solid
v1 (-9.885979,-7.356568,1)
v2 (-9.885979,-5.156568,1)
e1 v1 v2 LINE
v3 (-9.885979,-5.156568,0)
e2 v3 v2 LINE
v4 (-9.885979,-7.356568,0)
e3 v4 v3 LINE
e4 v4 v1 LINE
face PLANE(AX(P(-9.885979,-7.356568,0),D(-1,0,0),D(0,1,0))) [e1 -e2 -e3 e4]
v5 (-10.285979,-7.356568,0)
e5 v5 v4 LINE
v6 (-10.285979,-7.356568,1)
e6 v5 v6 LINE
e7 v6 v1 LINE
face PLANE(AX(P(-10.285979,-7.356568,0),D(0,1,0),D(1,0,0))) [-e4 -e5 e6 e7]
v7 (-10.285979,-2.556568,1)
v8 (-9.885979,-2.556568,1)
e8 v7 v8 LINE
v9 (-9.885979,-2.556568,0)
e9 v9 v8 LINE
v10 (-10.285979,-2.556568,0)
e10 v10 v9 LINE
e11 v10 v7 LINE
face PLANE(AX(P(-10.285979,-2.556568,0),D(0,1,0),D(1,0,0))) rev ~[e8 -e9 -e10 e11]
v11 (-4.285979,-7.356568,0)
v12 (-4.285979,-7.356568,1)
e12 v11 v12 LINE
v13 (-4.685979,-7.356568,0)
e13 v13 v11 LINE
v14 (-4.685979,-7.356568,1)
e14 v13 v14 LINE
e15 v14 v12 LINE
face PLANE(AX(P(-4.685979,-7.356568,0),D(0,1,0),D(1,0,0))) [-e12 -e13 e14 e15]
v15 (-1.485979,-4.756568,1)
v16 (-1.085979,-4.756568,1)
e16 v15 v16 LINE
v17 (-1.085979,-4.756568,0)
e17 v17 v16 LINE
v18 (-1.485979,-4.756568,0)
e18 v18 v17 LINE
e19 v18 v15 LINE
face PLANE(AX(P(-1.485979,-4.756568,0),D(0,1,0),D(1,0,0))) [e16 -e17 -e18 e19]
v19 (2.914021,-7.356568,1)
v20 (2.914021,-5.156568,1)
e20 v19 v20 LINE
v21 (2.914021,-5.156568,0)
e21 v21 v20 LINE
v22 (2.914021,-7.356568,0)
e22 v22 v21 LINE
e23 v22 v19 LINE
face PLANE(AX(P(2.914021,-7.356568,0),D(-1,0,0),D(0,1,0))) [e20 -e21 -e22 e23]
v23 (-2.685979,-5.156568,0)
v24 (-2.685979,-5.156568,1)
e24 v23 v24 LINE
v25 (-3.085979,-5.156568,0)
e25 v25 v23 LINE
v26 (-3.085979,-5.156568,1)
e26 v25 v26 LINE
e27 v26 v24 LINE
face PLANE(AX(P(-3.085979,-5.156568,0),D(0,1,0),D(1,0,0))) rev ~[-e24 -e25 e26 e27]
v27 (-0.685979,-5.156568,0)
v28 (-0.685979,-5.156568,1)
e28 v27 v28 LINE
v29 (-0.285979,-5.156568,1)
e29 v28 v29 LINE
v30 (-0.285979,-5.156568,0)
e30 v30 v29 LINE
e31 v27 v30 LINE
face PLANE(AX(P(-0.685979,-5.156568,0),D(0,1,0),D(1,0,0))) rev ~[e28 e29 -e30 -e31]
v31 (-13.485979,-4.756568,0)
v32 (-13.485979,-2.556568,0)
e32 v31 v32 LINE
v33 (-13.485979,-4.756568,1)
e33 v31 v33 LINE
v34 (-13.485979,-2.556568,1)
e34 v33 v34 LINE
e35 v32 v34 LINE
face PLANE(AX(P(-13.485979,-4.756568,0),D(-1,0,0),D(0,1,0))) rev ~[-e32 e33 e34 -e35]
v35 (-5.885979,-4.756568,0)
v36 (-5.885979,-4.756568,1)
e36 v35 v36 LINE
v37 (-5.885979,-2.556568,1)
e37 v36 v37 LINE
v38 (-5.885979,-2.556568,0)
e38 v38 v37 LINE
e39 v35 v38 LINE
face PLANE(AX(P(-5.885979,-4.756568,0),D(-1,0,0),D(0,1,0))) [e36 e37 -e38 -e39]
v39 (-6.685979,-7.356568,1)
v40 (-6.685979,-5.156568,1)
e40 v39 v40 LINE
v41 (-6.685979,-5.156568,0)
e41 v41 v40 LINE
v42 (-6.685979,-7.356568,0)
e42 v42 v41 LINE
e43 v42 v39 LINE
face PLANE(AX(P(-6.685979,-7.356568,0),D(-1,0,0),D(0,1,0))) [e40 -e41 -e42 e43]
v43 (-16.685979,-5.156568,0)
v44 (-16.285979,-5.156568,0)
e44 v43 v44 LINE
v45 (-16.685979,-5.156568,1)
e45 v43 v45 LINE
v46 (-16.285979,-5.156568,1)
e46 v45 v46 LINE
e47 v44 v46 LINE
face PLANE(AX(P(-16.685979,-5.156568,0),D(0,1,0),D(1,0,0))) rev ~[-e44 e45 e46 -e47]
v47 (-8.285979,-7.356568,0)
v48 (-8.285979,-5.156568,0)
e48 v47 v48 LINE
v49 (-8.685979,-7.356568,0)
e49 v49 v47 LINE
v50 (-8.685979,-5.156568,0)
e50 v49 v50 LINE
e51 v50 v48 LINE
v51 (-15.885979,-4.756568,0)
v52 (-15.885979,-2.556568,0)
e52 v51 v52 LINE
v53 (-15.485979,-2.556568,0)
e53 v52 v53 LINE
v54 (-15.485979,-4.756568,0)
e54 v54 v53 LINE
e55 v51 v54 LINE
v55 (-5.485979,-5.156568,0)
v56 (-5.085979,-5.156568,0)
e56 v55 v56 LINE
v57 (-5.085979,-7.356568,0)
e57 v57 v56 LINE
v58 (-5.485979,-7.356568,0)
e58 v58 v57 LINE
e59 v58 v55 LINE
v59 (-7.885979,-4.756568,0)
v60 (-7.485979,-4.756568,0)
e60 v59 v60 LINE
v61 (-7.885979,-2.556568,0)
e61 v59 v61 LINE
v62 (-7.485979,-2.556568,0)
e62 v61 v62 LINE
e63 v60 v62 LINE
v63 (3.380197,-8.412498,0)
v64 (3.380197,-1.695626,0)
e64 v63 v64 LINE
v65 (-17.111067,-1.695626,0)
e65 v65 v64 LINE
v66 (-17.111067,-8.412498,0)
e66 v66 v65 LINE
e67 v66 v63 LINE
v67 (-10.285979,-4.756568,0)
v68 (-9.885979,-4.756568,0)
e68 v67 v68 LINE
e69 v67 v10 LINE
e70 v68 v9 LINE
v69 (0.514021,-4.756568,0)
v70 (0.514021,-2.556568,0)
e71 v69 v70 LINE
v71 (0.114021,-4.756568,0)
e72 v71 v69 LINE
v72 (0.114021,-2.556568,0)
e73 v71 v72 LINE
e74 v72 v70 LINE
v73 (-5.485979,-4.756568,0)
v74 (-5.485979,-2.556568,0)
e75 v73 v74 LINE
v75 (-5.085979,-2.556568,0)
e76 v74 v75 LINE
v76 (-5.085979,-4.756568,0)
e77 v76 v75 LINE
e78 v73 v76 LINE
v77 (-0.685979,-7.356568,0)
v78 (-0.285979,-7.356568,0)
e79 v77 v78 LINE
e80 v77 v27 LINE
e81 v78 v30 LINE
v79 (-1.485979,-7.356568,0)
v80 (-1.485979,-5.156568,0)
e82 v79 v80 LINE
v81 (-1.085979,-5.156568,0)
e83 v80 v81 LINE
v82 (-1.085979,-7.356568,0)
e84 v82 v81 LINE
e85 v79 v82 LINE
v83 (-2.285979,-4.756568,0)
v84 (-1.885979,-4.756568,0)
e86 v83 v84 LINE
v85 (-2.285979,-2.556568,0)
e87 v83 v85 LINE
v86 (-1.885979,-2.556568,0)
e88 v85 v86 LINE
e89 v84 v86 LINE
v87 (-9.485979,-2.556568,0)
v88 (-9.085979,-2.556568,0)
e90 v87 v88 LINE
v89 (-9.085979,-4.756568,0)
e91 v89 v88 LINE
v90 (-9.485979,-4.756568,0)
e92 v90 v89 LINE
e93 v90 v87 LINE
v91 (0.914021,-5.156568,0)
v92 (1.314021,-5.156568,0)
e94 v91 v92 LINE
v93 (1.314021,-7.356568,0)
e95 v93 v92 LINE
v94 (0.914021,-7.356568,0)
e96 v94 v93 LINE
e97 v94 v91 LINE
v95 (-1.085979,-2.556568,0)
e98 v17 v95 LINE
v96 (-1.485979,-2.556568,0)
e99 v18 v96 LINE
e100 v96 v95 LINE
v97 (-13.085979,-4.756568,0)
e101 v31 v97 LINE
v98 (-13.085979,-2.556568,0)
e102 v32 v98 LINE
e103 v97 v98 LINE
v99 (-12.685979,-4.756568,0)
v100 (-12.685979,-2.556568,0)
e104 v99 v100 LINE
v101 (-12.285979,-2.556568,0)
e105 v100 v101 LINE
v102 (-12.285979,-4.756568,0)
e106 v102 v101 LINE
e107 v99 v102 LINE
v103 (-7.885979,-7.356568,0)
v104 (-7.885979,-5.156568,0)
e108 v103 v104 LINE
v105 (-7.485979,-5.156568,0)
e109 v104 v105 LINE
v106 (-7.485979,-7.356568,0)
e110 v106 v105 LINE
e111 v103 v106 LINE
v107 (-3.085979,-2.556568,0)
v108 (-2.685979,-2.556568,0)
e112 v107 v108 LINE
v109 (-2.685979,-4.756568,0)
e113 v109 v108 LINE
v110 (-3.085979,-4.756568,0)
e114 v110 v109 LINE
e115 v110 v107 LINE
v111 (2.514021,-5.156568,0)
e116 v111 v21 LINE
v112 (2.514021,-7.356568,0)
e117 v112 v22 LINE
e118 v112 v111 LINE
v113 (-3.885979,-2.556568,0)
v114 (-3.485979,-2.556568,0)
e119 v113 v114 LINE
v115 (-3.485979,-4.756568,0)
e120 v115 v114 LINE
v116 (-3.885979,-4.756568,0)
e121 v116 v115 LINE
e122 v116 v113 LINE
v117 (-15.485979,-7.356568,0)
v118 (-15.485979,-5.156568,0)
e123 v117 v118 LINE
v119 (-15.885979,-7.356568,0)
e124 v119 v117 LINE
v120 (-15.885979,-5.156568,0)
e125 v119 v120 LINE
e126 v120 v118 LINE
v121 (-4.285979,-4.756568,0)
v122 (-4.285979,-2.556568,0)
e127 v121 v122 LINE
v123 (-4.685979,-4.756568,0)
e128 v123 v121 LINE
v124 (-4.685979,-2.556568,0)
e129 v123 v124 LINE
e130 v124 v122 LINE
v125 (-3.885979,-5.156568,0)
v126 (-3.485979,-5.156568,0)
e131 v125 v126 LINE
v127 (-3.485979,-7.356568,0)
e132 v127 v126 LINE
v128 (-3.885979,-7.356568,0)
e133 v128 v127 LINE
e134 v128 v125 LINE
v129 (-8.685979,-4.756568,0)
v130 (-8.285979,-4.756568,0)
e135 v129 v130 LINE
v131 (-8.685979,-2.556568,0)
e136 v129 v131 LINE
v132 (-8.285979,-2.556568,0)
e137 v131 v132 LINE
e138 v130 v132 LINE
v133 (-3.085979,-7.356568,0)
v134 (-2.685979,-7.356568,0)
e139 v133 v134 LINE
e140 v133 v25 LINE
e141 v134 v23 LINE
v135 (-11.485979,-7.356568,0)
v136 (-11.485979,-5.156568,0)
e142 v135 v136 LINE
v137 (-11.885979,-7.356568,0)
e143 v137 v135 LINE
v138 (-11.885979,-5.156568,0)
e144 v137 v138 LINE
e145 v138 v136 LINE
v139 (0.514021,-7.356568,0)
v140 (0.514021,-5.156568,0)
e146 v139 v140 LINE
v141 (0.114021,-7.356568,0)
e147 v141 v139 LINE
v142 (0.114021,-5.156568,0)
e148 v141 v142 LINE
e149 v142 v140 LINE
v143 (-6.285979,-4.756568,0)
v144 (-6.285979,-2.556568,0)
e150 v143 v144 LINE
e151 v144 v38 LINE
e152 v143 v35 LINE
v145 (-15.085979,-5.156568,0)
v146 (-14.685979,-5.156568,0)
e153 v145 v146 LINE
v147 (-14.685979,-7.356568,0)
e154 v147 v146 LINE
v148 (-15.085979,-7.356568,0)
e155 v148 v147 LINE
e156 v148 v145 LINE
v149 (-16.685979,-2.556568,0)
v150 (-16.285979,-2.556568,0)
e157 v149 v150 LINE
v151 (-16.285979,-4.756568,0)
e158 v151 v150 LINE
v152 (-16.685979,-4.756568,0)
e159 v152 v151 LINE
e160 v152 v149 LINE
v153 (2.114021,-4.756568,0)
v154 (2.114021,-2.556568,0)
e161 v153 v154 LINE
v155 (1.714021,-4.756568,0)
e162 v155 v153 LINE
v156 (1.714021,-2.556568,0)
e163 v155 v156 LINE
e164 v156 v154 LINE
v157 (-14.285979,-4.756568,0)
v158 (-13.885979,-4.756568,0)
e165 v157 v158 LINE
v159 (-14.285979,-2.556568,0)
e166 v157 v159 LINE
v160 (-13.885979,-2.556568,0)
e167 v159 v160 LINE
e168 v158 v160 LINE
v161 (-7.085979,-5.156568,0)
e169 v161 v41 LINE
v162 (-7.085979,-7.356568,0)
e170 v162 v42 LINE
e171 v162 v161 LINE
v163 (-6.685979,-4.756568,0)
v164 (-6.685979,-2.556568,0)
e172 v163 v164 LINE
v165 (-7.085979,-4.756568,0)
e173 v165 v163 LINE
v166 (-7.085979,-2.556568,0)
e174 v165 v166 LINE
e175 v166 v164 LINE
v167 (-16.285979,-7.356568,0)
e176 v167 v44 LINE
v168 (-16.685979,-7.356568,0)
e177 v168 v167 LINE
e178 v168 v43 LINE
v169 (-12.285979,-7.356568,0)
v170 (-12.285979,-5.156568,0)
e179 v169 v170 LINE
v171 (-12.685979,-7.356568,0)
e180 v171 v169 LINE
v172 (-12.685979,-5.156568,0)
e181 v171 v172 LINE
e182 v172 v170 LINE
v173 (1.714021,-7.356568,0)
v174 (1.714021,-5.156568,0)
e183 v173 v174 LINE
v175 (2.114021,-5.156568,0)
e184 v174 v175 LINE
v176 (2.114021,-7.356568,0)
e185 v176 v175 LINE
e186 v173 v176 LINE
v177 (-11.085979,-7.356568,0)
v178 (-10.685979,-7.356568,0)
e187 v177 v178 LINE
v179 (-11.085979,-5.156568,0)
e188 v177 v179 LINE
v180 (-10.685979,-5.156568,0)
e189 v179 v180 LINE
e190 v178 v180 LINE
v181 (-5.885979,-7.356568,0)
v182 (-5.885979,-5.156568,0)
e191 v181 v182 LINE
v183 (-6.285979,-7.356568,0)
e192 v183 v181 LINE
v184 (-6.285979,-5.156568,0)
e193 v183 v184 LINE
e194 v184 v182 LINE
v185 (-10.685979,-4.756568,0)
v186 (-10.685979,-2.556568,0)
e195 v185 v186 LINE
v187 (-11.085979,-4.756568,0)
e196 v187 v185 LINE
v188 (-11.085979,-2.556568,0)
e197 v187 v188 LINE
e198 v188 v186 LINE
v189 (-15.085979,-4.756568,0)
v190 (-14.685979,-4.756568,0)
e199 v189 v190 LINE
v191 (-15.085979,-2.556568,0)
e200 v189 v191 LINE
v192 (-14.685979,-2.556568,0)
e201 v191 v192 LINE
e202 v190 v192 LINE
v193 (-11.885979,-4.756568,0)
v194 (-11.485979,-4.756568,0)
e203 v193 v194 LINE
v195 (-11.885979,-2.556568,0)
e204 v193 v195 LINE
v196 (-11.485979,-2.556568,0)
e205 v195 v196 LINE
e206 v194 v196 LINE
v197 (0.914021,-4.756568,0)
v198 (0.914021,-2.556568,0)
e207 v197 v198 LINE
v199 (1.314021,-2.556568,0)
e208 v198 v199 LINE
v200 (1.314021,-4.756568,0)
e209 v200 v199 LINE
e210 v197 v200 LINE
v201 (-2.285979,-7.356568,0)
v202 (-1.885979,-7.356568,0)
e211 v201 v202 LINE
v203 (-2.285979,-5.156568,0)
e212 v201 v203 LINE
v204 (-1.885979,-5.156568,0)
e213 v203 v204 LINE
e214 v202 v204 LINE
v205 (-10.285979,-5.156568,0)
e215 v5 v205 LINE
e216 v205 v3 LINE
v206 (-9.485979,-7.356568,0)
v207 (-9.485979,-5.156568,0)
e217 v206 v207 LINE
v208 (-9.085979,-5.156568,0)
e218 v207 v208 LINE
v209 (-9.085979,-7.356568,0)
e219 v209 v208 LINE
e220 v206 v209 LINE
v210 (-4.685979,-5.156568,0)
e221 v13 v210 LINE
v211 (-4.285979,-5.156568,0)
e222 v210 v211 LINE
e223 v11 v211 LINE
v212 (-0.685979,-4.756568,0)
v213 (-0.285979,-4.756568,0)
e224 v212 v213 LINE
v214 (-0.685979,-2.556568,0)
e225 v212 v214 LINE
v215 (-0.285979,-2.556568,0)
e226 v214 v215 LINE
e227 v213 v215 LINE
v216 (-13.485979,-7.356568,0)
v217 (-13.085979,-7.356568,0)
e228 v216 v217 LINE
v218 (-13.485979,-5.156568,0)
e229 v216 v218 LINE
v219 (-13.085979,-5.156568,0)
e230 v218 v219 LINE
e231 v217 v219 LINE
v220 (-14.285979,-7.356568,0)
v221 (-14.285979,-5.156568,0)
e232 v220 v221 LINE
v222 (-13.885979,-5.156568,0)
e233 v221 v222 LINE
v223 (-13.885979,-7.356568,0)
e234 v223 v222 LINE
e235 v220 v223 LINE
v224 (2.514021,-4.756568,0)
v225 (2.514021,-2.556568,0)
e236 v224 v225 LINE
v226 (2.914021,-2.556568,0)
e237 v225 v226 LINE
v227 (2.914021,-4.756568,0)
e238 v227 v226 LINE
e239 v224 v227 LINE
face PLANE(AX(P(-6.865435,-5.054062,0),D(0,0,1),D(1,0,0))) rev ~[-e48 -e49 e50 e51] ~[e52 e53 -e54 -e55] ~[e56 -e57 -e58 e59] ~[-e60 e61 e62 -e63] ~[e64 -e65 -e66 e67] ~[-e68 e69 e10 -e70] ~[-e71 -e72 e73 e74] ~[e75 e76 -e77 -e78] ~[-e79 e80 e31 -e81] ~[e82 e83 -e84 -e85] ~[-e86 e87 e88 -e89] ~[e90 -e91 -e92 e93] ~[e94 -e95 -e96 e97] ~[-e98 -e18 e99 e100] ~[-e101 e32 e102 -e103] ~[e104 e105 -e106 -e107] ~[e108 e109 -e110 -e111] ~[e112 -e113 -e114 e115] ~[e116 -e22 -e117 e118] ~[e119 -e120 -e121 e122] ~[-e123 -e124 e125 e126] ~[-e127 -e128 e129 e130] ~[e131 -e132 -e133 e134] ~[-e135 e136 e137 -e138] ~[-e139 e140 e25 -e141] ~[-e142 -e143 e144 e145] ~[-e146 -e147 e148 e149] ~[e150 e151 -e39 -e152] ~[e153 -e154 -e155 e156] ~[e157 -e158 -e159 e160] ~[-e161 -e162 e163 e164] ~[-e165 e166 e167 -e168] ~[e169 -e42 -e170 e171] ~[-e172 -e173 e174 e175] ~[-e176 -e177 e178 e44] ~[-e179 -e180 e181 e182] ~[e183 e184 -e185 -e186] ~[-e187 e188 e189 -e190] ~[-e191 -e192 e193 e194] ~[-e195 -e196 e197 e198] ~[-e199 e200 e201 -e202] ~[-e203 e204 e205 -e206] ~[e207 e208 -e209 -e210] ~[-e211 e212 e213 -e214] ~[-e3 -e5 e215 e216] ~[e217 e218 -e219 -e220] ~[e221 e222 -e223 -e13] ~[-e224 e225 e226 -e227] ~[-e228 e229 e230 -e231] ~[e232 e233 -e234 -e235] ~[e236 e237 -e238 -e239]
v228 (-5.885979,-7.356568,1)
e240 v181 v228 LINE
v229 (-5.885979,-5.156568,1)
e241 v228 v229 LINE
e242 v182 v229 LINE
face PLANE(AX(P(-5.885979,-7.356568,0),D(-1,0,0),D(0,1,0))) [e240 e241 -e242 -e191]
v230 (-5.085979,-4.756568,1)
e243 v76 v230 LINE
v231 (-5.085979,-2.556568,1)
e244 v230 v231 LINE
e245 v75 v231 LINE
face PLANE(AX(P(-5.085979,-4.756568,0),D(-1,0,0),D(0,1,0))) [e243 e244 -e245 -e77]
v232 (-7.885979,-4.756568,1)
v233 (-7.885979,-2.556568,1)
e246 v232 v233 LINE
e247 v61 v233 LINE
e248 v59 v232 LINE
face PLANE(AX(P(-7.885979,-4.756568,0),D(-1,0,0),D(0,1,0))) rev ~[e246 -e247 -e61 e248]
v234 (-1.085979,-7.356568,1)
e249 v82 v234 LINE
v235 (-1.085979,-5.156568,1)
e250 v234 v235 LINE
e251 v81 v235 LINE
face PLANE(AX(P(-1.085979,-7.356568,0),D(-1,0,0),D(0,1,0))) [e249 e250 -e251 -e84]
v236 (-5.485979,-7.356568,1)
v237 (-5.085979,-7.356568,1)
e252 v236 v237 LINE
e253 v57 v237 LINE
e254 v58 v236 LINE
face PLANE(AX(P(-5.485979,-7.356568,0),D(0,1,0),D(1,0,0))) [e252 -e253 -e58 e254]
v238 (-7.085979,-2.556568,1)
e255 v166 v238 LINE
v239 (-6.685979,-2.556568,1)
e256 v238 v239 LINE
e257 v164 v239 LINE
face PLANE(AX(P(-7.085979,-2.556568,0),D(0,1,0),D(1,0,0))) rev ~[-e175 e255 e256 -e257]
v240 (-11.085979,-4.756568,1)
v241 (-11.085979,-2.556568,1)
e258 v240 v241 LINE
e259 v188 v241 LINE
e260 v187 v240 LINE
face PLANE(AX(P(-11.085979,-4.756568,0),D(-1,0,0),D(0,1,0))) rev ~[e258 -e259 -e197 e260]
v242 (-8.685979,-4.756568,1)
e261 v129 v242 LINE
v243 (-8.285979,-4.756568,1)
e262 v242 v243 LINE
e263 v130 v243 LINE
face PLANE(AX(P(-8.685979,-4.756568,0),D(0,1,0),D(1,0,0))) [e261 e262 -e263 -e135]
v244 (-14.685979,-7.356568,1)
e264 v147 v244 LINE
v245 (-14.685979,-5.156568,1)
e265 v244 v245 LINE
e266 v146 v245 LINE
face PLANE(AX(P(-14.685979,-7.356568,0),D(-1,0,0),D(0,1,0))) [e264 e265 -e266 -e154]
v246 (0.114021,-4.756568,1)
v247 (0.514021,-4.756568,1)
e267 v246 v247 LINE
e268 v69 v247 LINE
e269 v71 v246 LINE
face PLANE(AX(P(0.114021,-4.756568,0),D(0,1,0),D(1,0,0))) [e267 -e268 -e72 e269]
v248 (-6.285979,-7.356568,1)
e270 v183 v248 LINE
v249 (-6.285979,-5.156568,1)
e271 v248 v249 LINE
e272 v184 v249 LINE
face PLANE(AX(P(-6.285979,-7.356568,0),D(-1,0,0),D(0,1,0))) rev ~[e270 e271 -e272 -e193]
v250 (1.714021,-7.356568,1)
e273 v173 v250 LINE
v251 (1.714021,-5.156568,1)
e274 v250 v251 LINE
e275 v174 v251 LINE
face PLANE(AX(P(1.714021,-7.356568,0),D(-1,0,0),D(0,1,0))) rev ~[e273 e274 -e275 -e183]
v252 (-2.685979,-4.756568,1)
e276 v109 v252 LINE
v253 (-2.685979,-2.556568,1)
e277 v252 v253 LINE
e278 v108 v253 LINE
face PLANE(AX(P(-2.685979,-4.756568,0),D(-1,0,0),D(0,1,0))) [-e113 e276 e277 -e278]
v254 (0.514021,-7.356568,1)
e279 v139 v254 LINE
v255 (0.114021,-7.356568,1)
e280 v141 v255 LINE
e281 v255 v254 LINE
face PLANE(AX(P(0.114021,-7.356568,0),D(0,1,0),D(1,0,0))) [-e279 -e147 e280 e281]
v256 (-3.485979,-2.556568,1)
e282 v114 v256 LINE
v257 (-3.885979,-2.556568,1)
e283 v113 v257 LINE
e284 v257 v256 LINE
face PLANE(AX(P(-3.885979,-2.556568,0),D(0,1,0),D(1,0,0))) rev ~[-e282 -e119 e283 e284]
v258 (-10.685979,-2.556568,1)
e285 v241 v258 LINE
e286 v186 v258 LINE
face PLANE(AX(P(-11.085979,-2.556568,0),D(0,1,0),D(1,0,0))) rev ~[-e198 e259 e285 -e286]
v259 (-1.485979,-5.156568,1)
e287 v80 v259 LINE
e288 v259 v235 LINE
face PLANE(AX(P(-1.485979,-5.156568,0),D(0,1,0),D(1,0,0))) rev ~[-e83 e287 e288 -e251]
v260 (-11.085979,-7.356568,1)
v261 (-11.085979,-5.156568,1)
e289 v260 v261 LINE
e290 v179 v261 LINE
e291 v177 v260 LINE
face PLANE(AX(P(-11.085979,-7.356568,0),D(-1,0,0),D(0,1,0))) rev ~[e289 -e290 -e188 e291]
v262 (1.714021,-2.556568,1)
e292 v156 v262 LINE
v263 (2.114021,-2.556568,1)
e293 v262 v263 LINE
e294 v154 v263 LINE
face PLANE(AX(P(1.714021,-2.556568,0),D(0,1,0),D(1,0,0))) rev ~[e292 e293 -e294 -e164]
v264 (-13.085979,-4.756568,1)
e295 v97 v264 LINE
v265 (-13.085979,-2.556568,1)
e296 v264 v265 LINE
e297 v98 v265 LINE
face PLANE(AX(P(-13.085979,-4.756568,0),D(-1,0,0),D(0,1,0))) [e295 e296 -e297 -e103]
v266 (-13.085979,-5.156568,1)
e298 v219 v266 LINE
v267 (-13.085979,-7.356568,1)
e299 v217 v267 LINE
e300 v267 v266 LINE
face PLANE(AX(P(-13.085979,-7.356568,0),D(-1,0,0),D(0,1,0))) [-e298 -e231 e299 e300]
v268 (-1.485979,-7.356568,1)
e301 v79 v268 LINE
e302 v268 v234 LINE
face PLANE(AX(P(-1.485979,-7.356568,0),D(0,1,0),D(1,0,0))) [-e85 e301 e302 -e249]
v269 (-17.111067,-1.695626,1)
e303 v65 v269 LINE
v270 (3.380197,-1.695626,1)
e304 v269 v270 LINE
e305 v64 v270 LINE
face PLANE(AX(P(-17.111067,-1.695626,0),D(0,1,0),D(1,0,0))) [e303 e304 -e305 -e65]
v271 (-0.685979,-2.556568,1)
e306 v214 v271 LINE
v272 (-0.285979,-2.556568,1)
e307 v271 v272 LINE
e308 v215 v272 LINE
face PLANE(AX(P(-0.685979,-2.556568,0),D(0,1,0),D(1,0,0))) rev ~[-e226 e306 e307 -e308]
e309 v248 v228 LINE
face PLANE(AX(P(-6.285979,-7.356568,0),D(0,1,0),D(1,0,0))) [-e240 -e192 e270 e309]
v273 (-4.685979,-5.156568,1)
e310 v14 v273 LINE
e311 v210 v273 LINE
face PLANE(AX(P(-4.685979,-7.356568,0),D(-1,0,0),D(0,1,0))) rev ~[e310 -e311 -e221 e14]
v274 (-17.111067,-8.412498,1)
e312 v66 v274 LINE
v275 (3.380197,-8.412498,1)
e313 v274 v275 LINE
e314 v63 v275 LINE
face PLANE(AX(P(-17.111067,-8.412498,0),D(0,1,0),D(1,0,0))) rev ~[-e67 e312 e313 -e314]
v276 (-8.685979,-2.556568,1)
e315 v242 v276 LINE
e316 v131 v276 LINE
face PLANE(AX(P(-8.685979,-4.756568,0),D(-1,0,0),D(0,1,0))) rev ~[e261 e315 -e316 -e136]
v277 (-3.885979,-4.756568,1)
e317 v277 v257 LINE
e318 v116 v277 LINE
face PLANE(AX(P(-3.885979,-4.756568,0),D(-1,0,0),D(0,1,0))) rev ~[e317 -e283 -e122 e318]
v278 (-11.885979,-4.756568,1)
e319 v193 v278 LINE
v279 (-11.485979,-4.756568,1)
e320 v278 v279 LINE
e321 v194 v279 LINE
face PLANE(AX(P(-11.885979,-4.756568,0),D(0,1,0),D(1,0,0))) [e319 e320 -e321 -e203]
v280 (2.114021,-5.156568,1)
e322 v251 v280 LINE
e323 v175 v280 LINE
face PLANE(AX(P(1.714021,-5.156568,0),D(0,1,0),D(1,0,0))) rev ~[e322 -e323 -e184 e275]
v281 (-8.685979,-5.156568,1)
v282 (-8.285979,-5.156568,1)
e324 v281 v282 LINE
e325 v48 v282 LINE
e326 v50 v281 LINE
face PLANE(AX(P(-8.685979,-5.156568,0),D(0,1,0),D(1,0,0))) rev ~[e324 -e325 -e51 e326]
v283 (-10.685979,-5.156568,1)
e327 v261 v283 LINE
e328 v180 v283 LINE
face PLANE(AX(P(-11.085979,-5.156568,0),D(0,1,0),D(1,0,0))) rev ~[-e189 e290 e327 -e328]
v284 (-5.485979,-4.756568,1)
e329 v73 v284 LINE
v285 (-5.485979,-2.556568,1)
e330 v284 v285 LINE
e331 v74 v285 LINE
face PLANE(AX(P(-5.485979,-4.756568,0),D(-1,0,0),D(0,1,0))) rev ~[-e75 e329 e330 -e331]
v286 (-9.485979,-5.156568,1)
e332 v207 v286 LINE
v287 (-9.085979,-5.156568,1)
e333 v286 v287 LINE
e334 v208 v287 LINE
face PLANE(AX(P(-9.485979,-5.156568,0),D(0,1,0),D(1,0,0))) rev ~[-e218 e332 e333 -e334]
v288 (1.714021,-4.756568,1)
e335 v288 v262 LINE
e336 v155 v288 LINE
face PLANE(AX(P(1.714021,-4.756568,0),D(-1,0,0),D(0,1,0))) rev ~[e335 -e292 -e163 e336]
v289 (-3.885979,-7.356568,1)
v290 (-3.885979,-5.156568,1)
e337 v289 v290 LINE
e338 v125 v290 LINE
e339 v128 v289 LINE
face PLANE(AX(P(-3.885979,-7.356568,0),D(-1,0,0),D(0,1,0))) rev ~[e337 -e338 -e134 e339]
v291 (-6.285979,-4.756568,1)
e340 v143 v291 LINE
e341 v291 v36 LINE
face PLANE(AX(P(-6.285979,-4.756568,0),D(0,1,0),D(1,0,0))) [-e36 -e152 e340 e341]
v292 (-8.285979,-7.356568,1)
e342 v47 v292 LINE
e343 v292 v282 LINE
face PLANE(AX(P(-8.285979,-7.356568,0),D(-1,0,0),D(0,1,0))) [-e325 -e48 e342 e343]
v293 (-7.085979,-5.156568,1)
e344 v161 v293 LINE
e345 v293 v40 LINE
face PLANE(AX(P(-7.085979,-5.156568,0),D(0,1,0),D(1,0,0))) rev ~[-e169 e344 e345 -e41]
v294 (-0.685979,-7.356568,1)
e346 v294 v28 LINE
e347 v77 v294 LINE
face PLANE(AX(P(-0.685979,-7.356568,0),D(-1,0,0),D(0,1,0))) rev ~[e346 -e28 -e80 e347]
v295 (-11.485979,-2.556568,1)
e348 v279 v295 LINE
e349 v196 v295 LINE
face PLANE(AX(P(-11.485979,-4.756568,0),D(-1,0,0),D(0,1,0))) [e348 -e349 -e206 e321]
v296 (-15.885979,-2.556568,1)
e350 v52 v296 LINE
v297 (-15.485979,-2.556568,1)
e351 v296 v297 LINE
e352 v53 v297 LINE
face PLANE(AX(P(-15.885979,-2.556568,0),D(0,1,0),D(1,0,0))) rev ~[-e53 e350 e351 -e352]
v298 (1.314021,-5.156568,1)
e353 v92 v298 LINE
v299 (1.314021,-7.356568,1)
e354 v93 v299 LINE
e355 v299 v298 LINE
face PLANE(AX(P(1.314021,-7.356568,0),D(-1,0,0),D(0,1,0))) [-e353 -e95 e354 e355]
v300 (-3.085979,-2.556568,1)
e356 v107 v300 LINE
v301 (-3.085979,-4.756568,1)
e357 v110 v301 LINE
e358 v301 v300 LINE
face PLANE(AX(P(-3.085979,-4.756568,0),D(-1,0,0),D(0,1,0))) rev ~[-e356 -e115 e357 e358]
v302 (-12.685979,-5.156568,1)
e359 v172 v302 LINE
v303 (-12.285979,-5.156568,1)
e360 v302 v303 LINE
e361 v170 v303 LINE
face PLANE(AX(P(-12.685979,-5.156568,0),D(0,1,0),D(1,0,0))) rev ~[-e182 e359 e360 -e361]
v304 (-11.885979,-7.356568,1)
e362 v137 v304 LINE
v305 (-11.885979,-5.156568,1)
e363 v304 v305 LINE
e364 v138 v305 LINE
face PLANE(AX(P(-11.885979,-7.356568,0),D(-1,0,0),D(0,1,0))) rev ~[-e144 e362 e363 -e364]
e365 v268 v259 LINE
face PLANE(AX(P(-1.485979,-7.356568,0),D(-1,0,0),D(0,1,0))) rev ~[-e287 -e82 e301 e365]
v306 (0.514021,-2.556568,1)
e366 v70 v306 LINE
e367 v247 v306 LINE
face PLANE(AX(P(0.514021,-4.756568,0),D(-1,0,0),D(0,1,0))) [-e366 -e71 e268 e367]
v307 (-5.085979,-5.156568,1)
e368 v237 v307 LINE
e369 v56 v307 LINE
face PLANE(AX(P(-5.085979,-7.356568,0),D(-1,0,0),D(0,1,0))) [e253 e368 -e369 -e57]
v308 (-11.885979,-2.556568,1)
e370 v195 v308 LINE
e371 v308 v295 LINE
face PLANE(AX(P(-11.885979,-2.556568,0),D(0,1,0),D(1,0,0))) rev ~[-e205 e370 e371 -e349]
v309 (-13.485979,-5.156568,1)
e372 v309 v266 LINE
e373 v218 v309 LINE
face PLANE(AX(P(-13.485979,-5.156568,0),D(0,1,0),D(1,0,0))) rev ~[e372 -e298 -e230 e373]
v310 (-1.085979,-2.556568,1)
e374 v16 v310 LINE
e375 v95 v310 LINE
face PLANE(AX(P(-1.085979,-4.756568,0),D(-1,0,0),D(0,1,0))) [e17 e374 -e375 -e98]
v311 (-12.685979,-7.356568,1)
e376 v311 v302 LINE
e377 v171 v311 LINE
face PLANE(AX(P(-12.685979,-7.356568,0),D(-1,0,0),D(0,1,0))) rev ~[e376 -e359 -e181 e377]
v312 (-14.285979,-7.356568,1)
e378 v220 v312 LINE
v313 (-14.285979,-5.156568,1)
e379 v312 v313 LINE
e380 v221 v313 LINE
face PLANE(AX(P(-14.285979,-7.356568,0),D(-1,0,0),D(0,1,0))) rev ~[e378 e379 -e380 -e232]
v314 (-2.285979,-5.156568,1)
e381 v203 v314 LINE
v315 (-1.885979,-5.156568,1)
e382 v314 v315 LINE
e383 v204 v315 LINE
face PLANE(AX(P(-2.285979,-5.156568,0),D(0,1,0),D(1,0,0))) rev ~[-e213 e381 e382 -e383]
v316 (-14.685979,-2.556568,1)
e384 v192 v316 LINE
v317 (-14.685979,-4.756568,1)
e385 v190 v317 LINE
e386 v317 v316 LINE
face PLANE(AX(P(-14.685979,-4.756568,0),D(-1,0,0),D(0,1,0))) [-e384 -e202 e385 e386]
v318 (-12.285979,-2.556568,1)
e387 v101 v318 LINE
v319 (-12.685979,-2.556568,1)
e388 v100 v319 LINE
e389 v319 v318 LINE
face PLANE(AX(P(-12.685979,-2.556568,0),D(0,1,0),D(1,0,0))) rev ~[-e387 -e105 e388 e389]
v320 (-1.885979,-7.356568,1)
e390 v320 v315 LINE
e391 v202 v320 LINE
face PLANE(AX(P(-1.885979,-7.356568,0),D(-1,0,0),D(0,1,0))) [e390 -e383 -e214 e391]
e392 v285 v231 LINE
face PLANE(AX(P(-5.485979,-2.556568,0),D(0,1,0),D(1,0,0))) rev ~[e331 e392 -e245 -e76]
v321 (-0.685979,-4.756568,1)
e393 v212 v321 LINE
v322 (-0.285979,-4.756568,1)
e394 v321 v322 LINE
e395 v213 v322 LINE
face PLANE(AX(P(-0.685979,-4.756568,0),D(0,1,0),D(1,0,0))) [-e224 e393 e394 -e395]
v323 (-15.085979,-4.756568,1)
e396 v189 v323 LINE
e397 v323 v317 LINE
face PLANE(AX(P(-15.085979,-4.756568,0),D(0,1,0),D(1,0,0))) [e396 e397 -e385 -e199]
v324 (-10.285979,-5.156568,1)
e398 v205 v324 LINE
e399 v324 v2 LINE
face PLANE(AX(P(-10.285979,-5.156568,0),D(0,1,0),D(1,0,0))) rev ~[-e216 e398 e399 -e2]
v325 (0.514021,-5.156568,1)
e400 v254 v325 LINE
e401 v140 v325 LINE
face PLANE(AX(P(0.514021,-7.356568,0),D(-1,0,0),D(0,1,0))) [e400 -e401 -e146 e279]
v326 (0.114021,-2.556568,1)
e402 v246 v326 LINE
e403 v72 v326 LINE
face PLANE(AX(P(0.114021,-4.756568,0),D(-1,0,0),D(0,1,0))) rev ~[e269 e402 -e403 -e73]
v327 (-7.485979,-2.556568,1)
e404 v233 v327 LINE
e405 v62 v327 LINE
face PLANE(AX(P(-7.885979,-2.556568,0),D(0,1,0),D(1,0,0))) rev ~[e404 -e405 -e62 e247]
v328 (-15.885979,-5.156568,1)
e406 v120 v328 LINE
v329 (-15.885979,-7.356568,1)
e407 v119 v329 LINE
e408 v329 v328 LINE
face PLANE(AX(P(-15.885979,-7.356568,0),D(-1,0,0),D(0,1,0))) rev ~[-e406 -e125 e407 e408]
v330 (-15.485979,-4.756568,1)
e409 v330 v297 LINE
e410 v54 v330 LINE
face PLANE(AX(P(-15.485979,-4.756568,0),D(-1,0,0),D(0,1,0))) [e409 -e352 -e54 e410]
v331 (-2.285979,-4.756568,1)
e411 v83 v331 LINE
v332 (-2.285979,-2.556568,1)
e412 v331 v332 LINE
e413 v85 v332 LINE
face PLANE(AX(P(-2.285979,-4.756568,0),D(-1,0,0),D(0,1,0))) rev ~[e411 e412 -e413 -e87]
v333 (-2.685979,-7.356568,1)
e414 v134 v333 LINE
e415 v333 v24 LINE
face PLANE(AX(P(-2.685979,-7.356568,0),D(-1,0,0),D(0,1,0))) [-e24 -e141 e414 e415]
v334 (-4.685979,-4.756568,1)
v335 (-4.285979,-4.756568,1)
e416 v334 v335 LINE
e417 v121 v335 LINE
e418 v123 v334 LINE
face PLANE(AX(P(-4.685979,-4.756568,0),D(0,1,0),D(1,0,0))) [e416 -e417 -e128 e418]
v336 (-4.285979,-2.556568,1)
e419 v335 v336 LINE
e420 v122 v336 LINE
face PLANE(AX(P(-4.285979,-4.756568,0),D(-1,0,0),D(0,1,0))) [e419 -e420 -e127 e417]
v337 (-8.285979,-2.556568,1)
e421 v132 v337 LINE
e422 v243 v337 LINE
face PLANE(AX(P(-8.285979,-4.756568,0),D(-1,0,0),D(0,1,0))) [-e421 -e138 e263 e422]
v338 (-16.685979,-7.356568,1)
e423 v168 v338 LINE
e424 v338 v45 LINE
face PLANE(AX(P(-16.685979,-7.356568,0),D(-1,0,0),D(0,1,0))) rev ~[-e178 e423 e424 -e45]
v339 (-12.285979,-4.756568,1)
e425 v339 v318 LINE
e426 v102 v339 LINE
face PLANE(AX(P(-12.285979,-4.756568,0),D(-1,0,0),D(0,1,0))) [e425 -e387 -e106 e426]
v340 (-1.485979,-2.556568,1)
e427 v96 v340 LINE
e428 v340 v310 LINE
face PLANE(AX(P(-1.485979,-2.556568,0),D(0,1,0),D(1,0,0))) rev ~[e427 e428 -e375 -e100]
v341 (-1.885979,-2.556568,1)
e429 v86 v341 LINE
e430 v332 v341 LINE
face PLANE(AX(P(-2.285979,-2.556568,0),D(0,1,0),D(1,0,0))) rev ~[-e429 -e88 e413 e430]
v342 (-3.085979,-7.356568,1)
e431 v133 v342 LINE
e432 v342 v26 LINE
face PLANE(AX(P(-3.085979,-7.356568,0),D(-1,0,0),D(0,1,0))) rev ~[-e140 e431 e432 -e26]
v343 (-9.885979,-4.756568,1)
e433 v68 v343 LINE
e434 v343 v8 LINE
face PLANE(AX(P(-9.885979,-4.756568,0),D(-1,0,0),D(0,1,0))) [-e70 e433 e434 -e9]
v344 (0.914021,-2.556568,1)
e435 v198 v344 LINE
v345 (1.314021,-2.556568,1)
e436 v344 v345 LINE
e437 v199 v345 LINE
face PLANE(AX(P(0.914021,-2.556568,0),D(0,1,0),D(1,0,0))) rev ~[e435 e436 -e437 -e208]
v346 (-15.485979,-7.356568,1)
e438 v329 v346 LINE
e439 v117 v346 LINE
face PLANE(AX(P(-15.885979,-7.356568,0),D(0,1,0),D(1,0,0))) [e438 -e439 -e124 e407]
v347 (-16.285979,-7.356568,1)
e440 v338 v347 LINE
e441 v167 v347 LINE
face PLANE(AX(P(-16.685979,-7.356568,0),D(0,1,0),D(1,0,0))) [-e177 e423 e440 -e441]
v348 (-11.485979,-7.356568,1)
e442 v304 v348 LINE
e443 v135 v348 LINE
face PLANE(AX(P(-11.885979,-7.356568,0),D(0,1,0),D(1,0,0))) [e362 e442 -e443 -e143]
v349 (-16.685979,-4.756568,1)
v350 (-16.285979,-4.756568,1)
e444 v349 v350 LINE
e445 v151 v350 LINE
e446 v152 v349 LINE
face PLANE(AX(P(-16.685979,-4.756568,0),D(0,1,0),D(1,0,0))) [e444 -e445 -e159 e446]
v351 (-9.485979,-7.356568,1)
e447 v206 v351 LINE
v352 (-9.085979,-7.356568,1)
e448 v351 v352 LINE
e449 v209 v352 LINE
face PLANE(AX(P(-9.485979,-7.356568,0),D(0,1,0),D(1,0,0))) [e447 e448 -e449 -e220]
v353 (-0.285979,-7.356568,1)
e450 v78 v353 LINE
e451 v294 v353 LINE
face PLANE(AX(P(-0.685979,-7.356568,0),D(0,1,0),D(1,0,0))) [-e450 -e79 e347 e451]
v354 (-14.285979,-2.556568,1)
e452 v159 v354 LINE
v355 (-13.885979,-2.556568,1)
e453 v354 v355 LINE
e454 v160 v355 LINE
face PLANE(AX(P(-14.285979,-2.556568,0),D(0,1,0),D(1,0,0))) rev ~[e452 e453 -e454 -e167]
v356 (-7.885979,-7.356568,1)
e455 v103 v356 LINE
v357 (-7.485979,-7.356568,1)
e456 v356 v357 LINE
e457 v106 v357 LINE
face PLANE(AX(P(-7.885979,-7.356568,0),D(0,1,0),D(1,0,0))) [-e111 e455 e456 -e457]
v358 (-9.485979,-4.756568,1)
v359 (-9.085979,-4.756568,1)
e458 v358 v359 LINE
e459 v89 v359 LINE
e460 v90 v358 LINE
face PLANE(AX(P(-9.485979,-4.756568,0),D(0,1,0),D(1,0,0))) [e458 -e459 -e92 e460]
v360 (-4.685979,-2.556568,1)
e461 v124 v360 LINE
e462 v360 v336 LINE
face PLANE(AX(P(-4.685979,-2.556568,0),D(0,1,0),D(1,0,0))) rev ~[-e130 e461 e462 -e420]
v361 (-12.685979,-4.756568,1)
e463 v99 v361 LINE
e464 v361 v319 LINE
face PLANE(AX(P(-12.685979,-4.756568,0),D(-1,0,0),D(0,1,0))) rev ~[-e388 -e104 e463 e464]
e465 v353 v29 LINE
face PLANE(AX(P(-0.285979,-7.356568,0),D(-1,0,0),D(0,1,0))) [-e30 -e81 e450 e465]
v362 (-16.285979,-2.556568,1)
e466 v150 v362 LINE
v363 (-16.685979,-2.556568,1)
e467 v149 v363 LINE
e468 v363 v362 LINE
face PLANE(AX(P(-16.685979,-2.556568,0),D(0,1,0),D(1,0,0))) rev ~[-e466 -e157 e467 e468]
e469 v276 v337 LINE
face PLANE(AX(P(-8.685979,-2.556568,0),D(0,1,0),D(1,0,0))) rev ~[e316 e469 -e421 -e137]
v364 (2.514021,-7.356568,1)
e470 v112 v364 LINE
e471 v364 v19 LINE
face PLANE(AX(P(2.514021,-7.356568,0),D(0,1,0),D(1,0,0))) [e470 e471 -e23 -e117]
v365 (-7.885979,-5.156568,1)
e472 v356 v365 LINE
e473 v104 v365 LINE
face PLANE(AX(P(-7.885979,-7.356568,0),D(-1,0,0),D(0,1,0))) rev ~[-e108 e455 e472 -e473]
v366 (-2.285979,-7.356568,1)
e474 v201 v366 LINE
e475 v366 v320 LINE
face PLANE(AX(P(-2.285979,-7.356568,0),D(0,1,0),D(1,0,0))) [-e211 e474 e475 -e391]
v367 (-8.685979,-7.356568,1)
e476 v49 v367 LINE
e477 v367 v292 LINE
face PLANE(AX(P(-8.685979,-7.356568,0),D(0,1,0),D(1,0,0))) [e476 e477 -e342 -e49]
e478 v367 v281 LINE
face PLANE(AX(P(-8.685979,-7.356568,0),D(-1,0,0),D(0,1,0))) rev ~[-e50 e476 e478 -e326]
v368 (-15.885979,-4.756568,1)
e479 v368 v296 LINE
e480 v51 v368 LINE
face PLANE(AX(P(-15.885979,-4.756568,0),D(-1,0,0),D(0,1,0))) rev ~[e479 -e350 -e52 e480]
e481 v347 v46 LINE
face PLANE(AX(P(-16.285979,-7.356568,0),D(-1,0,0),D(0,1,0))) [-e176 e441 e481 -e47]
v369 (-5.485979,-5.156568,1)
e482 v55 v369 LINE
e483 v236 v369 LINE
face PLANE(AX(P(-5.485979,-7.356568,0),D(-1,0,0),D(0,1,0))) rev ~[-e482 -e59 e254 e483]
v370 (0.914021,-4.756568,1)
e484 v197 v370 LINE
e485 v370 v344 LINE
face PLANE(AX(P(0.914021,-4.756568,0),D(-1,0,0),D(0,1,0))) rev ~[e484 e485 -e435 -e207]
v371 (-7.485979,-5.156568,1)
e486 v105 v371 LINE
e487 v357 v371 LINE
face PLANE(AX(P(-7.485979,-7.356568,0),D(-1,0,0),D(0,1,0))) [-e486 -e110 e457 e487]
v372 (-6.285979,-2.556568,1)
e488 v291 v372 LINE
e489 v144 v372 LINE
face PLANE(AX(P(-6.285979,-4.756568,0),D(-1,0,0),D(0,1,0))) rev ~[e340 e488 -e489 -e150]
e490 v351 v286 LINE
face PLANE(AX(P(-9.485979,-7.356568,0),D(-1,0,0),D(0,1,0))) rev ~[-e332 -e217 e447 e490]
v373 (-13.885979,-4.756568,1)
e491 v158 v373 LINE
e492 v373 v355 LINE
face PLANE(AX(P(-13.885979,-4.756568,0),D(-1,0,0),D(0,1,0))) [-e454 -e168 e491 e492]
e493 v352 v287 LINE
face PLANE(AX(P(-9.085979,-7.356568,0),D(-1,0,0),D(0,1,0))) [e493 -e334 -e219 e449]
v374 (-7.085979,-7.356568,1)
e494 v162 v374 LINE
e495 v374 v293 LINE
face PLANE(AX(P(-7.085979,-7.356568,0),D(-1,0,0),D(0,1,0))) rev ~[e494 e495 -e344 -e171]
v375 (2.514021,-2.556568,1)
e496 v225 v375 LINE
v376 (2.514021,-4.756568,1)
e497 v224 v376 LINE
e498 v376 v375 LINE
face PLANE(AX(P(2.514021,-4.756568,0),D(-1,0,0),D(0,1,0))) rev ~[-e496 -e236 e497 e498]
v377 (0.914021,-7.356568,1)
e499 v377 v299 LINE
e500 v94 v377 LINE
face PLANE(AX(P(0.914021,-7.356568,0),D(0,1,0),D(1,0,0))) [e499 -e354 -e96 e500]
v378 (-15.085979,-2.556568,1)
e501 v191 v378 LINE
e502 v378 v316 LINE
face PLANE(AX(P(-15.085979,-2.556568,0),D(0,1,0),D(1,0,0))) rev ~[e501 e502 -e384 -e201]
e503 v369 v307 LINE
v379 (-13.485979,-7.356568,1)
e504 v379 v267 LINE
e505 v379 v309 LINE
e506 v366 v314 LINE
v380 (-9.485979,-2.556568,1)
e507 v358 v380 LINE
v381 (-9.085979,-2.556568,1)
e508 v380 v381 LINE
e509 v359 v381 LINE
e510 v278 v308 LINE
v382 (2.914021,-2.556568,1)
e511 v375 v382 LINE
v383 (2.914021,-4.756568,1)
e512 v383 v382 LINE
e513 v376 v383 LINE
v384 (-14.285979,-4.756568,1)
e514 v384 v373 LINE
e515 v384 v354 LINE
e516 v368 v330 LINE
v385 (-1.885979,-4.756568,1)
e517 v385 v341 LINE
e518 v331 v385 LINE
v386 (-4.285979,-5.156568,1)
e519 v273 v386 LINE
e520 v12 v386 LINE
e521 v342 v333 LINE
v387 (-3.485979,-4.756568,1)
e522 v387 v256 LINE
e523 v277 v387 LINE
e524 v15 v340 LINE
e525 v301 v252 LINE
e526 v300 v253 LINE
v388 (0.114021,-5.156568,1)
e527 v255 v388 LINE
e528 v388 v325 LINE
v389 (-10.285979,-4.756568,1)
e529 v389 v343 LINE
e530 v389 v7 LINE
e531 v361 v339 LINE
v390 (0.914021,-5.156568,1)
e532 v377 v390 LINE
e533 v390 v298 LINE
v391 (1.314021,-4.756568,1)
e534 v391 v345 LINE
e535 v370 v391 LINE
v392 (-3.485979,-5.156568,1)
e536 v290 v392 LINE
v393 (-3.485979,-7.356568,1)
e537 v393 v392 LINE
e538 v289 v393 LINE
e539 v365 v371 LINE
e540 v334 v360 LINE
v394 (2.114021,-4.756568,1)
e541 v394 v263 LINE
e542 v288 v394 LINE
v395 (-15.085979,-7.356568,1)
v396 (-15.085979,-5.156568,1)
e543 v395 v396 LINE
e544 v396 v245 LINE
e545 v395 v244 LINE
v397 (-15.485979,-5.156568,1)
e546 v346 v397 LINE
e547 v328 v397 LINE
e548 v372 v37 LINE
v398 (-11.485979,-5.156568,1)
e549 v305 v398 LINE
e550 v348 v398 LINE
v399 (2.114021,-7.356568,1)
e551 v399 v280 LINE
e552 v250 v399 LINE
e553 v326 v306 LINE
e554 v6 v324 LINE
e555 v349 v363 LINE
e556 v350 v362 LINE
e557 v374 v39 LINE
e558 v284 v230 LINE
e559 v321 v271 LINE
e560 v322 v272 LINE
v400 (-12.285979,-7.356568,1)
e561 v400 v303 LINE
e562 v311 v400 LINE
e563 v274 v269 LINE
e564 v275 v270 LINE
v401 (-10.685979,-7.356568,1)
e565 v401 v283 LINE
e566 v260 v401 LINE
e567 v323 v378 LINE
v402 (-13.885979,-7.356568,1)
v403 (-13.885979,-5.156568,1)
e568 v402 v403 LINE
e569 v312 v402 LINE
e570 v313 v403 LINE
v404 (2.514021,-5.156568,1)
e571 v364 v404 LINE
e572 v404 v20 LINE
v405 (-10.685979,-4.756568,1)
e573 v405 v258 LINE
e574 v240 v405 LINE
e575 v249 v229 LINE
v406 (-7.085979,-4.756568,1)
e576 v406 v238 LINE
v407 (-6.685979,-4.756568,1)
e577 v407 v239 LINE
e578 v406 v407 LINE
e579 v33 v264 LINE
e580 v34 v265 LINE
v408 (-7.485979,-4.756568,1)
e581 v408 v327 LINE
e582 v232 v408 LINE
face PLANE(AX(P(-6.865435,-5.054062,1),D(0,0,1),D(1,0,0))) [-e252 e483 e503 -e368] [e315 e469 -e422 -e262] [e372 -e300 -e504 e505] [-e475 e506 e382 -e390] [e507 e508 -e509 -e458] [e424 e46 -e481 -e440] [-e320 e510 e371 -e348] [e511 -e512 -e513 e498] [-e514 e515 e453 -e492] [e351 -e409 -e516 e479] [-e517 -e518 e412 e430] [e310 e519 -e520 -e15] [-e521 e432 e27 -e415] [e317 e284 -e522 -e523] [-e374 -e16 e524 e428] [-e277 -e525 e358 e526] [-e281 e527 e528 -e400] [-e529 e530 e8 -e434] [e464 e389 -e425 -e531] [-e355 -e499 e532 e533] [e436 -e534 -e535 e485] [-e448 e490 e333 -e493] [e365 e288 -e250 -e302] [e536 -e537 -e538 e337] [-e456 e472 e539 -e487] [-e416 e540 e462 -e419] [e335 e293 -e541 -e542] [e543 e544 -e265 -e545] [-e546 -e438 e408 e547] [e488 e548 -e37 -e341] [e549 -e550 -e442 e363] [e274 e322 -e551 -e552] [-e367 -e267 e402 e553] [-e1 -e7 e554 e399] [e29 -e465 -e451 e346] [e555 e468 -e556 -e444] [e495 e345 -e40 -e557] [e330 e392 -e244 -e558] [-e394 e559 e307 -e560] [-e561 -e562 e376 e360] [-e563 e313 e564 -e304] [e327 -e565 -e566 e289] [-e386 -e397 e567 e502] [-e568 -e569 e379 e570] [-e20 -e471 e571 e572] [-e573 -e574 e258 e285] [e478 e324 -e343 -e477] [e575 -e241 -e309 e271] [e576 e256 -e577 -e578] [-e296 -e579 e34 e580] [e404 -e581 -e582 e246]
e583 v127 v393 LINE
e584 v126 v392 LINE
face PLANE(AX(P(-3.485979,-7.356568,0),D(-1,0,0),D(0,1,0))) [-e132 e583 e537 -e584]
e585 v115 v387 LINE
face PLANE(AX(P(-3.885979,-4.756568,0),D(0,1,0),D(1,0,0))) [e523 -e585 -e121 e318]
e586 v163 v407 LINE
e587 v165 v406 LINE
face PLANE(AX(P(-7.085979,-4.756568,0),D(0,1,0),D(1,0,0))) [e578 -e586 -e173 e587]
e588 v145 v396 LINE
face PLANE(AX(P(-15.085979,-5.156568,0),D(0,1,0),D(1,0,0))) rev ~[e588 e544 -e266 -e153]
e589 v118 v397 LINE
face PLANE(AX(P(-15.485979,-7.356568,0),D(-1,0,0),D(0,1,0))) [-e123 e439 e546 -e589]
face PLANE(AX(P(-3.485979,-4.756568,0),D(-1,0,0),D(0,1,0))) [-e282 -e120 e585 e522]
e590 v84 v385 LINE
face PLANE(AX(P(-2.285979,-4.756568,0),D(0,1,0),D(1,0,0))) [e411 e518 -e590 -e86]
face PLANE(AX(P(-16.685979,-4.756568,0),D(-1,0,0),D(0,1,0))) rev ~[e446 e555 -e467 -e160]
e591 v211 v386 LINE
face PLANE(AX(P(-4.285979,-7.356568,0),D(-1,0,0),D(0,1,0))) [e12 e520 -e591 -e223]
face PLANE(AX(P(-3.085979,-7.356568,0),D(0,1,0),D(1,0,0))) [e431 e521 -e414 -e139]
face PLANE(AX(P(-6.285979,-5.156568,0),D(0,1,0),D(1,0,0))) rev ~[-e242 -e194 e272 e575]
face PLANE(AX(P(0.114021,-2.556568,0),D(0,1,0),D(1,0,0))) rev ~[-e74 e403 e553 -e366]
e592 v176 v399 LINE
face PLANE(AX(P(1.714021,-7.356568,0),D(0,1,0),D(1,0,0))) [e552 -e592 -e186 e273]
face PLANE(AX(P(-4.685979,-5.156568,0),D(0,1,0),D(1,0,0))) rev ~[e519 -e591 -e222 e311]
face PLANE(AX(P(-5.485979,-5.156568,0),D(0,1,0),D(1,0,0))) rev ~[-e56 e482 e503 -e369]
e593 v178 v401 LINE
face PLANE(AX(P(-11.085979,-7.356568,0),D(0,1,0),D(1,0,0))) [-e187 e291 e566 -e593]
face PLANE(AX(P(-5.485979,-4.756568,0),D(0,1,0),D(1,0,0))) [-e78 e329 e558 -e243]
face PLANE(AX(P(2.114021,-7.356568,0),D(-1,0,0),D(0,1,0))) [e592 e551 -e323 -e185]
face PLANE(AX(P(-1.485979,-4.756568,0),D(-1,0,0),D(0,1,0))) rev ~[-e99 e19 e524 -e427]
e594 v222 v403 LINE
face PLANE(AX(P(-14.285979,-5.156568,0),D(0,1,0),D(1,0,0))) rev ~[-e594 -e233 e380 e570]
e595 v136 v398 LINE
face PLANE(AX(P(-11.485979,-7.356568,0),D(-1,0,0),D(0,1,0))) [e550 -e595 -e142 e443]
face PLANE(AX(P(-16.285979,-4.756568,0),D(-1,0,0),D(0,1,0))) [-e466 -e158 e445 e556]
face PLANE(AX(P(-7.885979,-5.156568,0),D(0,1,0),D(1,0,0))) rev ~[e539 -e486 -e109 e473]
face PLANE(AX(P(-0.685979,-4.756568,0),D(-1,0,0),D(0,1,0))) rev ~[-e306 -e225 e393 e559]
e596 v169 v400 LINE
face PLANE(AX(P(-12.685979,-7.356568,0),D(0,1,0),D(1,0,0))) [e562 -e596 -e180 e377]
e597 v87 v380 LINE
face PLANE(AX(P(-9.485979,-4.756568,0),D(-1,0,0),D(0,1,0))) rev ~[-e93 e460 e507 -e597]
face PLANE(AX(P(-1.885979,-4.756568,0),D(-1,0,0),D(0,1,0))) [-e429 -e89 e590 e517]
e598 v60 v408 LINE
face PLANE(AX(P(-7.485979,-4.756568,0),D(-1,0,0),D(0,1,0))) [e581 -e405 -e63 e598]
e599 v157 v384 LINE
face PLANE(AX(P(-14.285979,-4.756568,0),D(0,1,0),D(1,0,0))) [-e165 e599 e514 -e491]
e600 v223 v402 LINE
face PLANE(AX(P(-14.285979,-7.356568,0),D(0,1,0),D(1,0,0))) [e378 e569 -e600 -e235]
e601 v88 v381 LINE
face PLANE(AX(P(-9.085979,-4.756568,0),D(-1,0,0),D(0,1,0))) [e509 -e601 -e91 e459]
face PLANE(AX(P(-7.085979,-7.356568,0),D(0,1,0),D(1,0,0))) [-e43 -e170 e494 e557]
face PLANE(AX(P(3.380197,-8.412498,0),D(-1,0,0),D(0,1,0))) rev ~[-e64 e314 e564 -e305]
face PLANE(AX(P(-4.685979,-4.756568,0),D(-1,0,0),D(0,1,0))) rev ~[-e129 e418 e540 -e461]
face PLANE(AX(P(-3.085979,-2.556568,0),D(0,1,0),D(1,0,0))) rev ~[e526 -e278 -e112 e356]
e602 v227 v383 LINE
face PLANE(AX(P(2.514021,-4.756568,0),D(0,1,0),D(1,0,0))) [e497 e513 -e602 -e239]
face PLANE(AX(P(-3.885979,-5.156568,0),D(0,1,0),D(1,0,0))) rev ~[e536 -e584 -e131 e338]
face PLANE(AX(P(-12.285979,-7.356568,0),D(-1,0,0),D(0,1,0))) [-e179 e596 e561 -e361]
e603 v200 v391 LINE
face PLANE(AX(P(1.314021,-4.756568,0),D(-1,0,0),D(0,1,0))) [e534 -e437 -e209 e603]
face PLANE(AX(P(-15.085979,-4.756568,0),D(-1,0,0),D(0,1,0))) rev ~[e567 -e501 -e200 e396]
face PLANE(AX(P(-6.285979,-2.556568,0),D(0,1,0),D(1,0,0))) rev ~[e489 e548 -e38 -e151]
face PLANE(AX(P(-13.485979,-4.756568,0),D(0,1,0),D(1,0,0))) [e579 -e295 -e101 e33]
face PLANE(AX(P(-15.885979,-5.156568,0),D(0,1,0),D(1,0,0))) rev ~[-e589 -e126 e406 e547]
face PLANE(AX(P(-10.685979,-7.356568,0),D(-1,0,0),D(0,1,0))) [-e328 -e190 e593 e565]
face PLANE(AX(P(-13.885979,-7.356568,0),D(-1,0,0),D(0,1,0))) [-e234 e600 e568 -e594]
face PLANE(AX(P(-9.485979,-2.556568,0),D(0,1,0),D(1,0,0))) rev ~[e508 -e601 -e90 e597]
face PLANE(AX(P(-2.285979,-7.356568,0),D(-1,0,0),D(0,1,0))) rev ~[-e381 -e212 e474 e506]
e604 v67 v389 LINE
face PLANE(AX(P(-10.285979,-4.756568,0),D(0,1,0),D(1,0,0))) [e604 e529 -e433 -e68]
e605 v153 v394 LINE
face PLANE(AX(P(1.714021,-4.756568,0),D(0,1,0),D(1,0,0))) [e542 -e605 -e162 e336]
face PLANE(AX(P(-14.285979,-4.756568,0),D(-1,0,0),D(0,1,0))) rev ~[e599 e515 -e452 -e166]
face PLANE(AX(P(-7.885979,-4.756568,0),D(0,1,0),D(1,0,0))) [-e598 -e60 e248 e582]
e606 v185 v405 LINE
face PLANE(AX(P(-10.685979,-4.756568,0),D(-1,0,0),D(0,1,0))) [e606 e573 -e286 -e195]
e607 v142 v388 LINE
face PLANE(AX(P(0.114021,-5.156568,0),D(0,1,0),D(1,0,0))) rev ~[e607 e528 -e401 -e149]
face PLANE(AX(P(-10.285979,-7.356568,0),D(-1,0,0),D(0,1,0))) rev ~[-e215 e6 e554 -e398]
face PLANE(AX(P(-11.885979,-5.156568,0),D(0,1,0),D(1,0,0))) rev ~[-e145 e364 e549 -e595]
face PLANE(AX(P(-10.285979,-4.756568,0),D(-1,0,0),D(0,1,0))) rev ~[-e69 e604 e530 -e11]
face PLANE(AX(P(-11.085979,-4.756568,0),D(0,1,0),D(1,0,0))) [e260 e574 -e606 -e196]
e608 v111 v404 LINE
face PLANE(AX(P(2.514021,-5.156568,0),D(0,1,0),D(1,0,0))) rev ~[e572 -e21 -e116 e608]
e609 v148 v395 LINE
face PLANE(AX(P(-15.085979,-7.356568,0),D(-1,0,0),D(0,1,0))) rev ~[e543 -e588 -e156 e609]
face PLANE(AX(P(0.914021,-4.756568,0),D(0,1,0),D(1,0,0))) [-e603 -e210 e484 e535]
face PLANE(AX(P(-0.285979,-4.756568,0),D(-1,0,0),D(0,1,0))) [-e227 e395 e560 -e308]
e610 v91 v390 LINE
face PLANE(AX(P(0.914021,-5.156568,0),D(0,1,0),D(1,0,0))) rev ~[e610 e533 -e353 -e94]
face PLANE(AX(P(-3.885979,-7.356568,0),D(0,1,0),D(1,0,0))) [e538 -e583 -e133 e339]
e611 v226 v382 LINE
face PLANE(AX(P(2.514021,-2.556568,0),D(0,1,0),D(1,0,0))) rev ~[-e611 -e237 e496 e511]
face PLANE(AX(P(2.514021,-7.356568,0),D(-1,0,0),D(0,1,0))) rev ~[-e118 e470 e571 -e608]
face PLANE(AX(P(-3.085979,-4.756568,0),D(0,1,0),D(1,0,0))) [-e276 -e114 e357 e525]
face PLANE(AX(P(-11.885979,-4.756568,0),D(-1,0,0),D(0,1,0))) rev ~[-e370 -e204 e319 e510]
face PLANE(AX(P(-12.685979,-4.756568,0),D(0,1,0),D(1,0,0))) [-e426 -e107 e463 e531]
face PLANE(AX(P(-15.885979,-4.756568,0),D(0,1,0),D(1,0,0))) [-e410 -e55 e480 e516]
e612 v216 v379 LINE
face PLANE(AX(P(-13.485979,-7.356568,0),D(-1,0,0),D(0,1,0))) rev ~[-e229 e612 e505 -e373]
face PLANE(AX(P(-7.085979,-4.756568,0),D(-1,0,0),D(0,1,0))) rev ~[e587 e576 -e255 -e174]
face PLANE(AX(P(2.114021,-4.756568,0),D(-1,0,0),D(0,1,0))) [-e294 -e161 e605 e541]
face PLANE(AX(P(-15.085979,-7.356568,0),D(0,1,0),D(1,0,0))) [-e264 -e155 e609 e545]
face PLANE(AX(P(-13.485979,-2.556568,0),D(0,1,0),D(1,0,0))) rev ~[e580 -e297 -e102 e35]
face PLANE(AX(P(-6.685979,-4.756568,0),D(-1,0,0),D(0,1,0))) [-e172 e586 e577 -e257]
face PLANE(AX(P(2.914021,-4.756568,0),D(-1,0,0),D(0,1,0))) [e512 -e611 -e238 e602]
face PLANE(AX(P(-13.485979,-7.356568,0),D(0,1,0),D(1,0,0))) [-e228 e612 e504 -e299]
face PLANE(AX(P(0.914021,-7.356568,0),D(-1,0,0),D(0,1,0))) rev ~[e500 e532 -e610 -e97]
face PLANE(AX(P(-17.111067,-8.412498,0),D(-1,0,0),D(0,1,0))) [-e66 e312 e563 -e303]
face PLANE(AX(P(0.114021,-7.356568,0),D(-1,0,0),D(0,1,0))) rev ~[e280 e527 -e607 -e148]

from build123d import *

# Parameters (mm, degrees)
F1_W     = 20.491264
F1_H     = 6.716872
F1_W_2   = 0.4
F1_H_2   = 2.2
F2_DEPTH = 1


with BuildPart() as f2:
    # F1 (on face) → F2 (new body)
    with BuildSketch(Plane.XY):
        with Locations((-6.865435, -5.054062)):
            Rectangle(F1_W, F1_H)
        with Locations((-16.485979, -6.256568)):
            Rectangle(F1_W_2, F1_H_2, mode=Mode.SUBTRACT)
        with Locations((-15.685979, -6.256568)):
            Rectangle(F1_W_2, F1_H_2, mode=Mode.SUBTRACT)
        with Locations((-14.885979, -6.256568)):
            Rectangle(F1_W_2, F1_H_2, mode=Mode.SUBTRACT)
        with Locations((-14.085979, -6.256568)):
            Rectangle(F1_W_2, F1_H_2, mode=Mode.SUBTRACT)
        with Locations((-13.285979, -6.256568)):
            Rectangle(F1_W_2, F1_H_2, mode=Mode.SUBTRACT)
        with Locations((-12.485979, -6.256568)):
            Rectangle(F1_W_2, F1_H_2, mode=Mode.SUBTRACT)
        with Locations((-11.685979, -6.256568)):
            Rectangle(F1_W_2, F1_H_2, mode=Mode.SUBTRACT)
        with Locations((-10.885979, -6.256568)):
            Rectangle(F1_W_2, F1_H_2, mode=Mode.SUBTRACT)
        with Locations((-10.085979, -6.256568)):
            Rectangle(F1_W_2, F1_H_2, mode=Mode.SUBTRACT)
        with Locations((-9.285979, -6.256568)):
            Rectangle(F1_W_2, F1_H_2, mode=Mode.SUBTRACT)
        with Locations((-8.485979, -6.256568)):
            Rectangle(F1_W_2, F1_H_2, mode=Mode.SUBTRACT)
        with Locations((-7.685979, -6.256568)):
            Rectangle(F1_W_2, F1_H_2, mode=Mode.SUBTRACT)
        with Locations((-6.885979, -6.256568)):
            Rectangle(F1_W_2, F1_H_2, mode=Mode.SUBTRACT)
        with Locations((-16.485979, -3.656568)):
            Rectangle(F1_W_2, F1_H_2, mode=Mode.SUBTRACT)
        with Locations((-15.685979, -3.656568)):
            Rectangle(F1_W_2, F1_H_2, mode=Mode.SUBTRACT)
        with Locations((-14.885979, -3.656568)):
            Rectangle(F1_W_2, F1_H_2, mode=Mode.SUBTRACT)
        with Locations((-14.085979, -3.656568)):
            Rectangle(F1_W_2, F1_H_2, mode=Mode.SUBTRACT)
        with Locations((-13.285979, -3.656568)):
            Rectangle(F1_W_2, F1_H_2, mode=Mode.SUBTRACT)
        with Locations((-12.485979, -3.656568)):
            Rectangle(F1_W_2, F1_H_2, mode=Mode.SUBTRACT)
        with Locations((-11.685979, -3.656568)):
            Rectangle(F1_W_2, F1_H_2, mode=Mode.SUBTRACT)
        with Locations((-10.885979, -3.656568)):
            Rectangle(F1_W_2, F1_H_2, mode=Mode.SUBTRACT)
        with Locations((-10.085979, -3.656568)):
            Rectangle(F1_W_2, F1_H_2, mode=Mode.SUBTRACT)
        with Locations((-9.285979, -3.656568)):
            Rectangle(F1_W_2, F1_H_2, mode=Mode.SUBTRACT)
        with Locations((-8.485979, -3.656568)):
            Rectangle(F1_W_2, F1_H_2, mode=Mode.SUBTRACT)
        with Locations((-7.685979, -3.656568)):
            Rectangle(F1_W_2, F1_H_2, mode=Mode.SUBTRACT)
        with Locations((-6.885979, -3.656568)):
            Rectangle(F1_W_2, F1_H_2, mode=Mode.SUBTRACT)
        with Locations((-6.085979, -6.256568)):
            Rectangle(F1_W_2, F1_H_2, mode=Mode.SUBTRACT)
        with Locations((-5.285979, -6.256568)):
            Rectangle(F1_W_2, F1_H_2, mode=Mode.SUBTRACT)
        with Locations((-4.485979, -6.256568)):
            Rectangle(F1_W_2, F1_H_2, mode=Mode.SUBTRACT)
        with Locations((-3.685979, -6.256568)):
            Rectangle(F1_W_2, F1_H_2, mode=Mode.SUBTRACT)
        with Locations((-2.885979, -6.256568)):
            Rectangle(F1_W_2, F1_H_2, mode=Mode.SUBTRACT)
        with Locations((-2.085979, -6.256568)):
            Rectangle(F1_W_2, F1_H_2, mode=Mode.SUBTRACT)
        with Locations((-1.285979, -6.256568)):
            Rectangle(F1_W_2, F1_H_2, mode=Mode.SUBTRACT)
        with Locations((-0.485979, -6.256568)):
            Rectangle(F1_W_2, F1_H_2, mode=Mode.SUBTRACT)
        with Locations((0.314021, -6.256568)):
            Rectangle(F1_W_2, F1_H_2, mode=Mode.SUBTRACT)
        with Locations((1.114021, -6.256568)):
            Rectangle(F1_W_2, F1_H_2, mode=Mode.SUBTRACT)
        with Locations((1.914021, -6.256568)):
            Rectangle(F1_W_2, F1_H_2, mode=Mode.SUBTRACT)
        with Locations((2.714021, -6.256568)):
            Rectangle(F1_W_2, F1_H_2, mode=Mode.SUBTRACT)
        with Locations((-6.085979, -3.656568)):
            Rectangle(F1_W_2, F1_H_2, mode=Mode.SUBTRACT)
        with Locations((-5.285979, -3.656568)):
            Rectangle(F1_W_2, F1_H_2, mode=Mode.SUBTRACT)
        with Locations((-4.485979, -3.656568)):
            Rectangle(F1_W_2, F1_H_2, mode=Mode.SUBTRACT)
        with Locations((-3.685979, -3.656568)):
            Rectangle(F1_W_2, F1_H_2, mode=Mode.SUBTRACT)
        with Locations((-2.885979, -3.656568)):
            Rectangle(F1_W_2, F1_H_2, mode=Mode.SUBTRACT)
        with Locations((-2.085979, -3.656568)):
            Rectangle(F1_W_2, F1_H_2, mode=Mode.SUBTRACT)
        with Locations((-1.285979, -3.656568)):
            Rectangle(F1_W_2, F1_H_2, mode=Mode.SUBTRACT)
        with Locations((-0.485979, -3.656568)):
            Rectangle(F1_W_2, F1_H_2, mode=Mode.SUBTRACT)
        with Locations((0.314021, -3.656568)):
            Rectangle(F1_W_2, F1_H_2, mode=Mode.SUBTRACT)
        with Locations((1.114021, -3.656568)):
            Rectangle(F1_W_2, F1_H_2, mode=Mode.SUBTRACT)
        with Locations((1.914021, -3.656568)):
            Rectangle(F1_W_2, F1_H_2, mode=Mode.SUBTRACT)
        with Locations((2.714021, -3.656568)):
            Rectangle(F1_W_2, F1_H_2, mode=Mode.SUBTRACT)
    extrude(amount=F2_DEPTH)


solid = f2.part
